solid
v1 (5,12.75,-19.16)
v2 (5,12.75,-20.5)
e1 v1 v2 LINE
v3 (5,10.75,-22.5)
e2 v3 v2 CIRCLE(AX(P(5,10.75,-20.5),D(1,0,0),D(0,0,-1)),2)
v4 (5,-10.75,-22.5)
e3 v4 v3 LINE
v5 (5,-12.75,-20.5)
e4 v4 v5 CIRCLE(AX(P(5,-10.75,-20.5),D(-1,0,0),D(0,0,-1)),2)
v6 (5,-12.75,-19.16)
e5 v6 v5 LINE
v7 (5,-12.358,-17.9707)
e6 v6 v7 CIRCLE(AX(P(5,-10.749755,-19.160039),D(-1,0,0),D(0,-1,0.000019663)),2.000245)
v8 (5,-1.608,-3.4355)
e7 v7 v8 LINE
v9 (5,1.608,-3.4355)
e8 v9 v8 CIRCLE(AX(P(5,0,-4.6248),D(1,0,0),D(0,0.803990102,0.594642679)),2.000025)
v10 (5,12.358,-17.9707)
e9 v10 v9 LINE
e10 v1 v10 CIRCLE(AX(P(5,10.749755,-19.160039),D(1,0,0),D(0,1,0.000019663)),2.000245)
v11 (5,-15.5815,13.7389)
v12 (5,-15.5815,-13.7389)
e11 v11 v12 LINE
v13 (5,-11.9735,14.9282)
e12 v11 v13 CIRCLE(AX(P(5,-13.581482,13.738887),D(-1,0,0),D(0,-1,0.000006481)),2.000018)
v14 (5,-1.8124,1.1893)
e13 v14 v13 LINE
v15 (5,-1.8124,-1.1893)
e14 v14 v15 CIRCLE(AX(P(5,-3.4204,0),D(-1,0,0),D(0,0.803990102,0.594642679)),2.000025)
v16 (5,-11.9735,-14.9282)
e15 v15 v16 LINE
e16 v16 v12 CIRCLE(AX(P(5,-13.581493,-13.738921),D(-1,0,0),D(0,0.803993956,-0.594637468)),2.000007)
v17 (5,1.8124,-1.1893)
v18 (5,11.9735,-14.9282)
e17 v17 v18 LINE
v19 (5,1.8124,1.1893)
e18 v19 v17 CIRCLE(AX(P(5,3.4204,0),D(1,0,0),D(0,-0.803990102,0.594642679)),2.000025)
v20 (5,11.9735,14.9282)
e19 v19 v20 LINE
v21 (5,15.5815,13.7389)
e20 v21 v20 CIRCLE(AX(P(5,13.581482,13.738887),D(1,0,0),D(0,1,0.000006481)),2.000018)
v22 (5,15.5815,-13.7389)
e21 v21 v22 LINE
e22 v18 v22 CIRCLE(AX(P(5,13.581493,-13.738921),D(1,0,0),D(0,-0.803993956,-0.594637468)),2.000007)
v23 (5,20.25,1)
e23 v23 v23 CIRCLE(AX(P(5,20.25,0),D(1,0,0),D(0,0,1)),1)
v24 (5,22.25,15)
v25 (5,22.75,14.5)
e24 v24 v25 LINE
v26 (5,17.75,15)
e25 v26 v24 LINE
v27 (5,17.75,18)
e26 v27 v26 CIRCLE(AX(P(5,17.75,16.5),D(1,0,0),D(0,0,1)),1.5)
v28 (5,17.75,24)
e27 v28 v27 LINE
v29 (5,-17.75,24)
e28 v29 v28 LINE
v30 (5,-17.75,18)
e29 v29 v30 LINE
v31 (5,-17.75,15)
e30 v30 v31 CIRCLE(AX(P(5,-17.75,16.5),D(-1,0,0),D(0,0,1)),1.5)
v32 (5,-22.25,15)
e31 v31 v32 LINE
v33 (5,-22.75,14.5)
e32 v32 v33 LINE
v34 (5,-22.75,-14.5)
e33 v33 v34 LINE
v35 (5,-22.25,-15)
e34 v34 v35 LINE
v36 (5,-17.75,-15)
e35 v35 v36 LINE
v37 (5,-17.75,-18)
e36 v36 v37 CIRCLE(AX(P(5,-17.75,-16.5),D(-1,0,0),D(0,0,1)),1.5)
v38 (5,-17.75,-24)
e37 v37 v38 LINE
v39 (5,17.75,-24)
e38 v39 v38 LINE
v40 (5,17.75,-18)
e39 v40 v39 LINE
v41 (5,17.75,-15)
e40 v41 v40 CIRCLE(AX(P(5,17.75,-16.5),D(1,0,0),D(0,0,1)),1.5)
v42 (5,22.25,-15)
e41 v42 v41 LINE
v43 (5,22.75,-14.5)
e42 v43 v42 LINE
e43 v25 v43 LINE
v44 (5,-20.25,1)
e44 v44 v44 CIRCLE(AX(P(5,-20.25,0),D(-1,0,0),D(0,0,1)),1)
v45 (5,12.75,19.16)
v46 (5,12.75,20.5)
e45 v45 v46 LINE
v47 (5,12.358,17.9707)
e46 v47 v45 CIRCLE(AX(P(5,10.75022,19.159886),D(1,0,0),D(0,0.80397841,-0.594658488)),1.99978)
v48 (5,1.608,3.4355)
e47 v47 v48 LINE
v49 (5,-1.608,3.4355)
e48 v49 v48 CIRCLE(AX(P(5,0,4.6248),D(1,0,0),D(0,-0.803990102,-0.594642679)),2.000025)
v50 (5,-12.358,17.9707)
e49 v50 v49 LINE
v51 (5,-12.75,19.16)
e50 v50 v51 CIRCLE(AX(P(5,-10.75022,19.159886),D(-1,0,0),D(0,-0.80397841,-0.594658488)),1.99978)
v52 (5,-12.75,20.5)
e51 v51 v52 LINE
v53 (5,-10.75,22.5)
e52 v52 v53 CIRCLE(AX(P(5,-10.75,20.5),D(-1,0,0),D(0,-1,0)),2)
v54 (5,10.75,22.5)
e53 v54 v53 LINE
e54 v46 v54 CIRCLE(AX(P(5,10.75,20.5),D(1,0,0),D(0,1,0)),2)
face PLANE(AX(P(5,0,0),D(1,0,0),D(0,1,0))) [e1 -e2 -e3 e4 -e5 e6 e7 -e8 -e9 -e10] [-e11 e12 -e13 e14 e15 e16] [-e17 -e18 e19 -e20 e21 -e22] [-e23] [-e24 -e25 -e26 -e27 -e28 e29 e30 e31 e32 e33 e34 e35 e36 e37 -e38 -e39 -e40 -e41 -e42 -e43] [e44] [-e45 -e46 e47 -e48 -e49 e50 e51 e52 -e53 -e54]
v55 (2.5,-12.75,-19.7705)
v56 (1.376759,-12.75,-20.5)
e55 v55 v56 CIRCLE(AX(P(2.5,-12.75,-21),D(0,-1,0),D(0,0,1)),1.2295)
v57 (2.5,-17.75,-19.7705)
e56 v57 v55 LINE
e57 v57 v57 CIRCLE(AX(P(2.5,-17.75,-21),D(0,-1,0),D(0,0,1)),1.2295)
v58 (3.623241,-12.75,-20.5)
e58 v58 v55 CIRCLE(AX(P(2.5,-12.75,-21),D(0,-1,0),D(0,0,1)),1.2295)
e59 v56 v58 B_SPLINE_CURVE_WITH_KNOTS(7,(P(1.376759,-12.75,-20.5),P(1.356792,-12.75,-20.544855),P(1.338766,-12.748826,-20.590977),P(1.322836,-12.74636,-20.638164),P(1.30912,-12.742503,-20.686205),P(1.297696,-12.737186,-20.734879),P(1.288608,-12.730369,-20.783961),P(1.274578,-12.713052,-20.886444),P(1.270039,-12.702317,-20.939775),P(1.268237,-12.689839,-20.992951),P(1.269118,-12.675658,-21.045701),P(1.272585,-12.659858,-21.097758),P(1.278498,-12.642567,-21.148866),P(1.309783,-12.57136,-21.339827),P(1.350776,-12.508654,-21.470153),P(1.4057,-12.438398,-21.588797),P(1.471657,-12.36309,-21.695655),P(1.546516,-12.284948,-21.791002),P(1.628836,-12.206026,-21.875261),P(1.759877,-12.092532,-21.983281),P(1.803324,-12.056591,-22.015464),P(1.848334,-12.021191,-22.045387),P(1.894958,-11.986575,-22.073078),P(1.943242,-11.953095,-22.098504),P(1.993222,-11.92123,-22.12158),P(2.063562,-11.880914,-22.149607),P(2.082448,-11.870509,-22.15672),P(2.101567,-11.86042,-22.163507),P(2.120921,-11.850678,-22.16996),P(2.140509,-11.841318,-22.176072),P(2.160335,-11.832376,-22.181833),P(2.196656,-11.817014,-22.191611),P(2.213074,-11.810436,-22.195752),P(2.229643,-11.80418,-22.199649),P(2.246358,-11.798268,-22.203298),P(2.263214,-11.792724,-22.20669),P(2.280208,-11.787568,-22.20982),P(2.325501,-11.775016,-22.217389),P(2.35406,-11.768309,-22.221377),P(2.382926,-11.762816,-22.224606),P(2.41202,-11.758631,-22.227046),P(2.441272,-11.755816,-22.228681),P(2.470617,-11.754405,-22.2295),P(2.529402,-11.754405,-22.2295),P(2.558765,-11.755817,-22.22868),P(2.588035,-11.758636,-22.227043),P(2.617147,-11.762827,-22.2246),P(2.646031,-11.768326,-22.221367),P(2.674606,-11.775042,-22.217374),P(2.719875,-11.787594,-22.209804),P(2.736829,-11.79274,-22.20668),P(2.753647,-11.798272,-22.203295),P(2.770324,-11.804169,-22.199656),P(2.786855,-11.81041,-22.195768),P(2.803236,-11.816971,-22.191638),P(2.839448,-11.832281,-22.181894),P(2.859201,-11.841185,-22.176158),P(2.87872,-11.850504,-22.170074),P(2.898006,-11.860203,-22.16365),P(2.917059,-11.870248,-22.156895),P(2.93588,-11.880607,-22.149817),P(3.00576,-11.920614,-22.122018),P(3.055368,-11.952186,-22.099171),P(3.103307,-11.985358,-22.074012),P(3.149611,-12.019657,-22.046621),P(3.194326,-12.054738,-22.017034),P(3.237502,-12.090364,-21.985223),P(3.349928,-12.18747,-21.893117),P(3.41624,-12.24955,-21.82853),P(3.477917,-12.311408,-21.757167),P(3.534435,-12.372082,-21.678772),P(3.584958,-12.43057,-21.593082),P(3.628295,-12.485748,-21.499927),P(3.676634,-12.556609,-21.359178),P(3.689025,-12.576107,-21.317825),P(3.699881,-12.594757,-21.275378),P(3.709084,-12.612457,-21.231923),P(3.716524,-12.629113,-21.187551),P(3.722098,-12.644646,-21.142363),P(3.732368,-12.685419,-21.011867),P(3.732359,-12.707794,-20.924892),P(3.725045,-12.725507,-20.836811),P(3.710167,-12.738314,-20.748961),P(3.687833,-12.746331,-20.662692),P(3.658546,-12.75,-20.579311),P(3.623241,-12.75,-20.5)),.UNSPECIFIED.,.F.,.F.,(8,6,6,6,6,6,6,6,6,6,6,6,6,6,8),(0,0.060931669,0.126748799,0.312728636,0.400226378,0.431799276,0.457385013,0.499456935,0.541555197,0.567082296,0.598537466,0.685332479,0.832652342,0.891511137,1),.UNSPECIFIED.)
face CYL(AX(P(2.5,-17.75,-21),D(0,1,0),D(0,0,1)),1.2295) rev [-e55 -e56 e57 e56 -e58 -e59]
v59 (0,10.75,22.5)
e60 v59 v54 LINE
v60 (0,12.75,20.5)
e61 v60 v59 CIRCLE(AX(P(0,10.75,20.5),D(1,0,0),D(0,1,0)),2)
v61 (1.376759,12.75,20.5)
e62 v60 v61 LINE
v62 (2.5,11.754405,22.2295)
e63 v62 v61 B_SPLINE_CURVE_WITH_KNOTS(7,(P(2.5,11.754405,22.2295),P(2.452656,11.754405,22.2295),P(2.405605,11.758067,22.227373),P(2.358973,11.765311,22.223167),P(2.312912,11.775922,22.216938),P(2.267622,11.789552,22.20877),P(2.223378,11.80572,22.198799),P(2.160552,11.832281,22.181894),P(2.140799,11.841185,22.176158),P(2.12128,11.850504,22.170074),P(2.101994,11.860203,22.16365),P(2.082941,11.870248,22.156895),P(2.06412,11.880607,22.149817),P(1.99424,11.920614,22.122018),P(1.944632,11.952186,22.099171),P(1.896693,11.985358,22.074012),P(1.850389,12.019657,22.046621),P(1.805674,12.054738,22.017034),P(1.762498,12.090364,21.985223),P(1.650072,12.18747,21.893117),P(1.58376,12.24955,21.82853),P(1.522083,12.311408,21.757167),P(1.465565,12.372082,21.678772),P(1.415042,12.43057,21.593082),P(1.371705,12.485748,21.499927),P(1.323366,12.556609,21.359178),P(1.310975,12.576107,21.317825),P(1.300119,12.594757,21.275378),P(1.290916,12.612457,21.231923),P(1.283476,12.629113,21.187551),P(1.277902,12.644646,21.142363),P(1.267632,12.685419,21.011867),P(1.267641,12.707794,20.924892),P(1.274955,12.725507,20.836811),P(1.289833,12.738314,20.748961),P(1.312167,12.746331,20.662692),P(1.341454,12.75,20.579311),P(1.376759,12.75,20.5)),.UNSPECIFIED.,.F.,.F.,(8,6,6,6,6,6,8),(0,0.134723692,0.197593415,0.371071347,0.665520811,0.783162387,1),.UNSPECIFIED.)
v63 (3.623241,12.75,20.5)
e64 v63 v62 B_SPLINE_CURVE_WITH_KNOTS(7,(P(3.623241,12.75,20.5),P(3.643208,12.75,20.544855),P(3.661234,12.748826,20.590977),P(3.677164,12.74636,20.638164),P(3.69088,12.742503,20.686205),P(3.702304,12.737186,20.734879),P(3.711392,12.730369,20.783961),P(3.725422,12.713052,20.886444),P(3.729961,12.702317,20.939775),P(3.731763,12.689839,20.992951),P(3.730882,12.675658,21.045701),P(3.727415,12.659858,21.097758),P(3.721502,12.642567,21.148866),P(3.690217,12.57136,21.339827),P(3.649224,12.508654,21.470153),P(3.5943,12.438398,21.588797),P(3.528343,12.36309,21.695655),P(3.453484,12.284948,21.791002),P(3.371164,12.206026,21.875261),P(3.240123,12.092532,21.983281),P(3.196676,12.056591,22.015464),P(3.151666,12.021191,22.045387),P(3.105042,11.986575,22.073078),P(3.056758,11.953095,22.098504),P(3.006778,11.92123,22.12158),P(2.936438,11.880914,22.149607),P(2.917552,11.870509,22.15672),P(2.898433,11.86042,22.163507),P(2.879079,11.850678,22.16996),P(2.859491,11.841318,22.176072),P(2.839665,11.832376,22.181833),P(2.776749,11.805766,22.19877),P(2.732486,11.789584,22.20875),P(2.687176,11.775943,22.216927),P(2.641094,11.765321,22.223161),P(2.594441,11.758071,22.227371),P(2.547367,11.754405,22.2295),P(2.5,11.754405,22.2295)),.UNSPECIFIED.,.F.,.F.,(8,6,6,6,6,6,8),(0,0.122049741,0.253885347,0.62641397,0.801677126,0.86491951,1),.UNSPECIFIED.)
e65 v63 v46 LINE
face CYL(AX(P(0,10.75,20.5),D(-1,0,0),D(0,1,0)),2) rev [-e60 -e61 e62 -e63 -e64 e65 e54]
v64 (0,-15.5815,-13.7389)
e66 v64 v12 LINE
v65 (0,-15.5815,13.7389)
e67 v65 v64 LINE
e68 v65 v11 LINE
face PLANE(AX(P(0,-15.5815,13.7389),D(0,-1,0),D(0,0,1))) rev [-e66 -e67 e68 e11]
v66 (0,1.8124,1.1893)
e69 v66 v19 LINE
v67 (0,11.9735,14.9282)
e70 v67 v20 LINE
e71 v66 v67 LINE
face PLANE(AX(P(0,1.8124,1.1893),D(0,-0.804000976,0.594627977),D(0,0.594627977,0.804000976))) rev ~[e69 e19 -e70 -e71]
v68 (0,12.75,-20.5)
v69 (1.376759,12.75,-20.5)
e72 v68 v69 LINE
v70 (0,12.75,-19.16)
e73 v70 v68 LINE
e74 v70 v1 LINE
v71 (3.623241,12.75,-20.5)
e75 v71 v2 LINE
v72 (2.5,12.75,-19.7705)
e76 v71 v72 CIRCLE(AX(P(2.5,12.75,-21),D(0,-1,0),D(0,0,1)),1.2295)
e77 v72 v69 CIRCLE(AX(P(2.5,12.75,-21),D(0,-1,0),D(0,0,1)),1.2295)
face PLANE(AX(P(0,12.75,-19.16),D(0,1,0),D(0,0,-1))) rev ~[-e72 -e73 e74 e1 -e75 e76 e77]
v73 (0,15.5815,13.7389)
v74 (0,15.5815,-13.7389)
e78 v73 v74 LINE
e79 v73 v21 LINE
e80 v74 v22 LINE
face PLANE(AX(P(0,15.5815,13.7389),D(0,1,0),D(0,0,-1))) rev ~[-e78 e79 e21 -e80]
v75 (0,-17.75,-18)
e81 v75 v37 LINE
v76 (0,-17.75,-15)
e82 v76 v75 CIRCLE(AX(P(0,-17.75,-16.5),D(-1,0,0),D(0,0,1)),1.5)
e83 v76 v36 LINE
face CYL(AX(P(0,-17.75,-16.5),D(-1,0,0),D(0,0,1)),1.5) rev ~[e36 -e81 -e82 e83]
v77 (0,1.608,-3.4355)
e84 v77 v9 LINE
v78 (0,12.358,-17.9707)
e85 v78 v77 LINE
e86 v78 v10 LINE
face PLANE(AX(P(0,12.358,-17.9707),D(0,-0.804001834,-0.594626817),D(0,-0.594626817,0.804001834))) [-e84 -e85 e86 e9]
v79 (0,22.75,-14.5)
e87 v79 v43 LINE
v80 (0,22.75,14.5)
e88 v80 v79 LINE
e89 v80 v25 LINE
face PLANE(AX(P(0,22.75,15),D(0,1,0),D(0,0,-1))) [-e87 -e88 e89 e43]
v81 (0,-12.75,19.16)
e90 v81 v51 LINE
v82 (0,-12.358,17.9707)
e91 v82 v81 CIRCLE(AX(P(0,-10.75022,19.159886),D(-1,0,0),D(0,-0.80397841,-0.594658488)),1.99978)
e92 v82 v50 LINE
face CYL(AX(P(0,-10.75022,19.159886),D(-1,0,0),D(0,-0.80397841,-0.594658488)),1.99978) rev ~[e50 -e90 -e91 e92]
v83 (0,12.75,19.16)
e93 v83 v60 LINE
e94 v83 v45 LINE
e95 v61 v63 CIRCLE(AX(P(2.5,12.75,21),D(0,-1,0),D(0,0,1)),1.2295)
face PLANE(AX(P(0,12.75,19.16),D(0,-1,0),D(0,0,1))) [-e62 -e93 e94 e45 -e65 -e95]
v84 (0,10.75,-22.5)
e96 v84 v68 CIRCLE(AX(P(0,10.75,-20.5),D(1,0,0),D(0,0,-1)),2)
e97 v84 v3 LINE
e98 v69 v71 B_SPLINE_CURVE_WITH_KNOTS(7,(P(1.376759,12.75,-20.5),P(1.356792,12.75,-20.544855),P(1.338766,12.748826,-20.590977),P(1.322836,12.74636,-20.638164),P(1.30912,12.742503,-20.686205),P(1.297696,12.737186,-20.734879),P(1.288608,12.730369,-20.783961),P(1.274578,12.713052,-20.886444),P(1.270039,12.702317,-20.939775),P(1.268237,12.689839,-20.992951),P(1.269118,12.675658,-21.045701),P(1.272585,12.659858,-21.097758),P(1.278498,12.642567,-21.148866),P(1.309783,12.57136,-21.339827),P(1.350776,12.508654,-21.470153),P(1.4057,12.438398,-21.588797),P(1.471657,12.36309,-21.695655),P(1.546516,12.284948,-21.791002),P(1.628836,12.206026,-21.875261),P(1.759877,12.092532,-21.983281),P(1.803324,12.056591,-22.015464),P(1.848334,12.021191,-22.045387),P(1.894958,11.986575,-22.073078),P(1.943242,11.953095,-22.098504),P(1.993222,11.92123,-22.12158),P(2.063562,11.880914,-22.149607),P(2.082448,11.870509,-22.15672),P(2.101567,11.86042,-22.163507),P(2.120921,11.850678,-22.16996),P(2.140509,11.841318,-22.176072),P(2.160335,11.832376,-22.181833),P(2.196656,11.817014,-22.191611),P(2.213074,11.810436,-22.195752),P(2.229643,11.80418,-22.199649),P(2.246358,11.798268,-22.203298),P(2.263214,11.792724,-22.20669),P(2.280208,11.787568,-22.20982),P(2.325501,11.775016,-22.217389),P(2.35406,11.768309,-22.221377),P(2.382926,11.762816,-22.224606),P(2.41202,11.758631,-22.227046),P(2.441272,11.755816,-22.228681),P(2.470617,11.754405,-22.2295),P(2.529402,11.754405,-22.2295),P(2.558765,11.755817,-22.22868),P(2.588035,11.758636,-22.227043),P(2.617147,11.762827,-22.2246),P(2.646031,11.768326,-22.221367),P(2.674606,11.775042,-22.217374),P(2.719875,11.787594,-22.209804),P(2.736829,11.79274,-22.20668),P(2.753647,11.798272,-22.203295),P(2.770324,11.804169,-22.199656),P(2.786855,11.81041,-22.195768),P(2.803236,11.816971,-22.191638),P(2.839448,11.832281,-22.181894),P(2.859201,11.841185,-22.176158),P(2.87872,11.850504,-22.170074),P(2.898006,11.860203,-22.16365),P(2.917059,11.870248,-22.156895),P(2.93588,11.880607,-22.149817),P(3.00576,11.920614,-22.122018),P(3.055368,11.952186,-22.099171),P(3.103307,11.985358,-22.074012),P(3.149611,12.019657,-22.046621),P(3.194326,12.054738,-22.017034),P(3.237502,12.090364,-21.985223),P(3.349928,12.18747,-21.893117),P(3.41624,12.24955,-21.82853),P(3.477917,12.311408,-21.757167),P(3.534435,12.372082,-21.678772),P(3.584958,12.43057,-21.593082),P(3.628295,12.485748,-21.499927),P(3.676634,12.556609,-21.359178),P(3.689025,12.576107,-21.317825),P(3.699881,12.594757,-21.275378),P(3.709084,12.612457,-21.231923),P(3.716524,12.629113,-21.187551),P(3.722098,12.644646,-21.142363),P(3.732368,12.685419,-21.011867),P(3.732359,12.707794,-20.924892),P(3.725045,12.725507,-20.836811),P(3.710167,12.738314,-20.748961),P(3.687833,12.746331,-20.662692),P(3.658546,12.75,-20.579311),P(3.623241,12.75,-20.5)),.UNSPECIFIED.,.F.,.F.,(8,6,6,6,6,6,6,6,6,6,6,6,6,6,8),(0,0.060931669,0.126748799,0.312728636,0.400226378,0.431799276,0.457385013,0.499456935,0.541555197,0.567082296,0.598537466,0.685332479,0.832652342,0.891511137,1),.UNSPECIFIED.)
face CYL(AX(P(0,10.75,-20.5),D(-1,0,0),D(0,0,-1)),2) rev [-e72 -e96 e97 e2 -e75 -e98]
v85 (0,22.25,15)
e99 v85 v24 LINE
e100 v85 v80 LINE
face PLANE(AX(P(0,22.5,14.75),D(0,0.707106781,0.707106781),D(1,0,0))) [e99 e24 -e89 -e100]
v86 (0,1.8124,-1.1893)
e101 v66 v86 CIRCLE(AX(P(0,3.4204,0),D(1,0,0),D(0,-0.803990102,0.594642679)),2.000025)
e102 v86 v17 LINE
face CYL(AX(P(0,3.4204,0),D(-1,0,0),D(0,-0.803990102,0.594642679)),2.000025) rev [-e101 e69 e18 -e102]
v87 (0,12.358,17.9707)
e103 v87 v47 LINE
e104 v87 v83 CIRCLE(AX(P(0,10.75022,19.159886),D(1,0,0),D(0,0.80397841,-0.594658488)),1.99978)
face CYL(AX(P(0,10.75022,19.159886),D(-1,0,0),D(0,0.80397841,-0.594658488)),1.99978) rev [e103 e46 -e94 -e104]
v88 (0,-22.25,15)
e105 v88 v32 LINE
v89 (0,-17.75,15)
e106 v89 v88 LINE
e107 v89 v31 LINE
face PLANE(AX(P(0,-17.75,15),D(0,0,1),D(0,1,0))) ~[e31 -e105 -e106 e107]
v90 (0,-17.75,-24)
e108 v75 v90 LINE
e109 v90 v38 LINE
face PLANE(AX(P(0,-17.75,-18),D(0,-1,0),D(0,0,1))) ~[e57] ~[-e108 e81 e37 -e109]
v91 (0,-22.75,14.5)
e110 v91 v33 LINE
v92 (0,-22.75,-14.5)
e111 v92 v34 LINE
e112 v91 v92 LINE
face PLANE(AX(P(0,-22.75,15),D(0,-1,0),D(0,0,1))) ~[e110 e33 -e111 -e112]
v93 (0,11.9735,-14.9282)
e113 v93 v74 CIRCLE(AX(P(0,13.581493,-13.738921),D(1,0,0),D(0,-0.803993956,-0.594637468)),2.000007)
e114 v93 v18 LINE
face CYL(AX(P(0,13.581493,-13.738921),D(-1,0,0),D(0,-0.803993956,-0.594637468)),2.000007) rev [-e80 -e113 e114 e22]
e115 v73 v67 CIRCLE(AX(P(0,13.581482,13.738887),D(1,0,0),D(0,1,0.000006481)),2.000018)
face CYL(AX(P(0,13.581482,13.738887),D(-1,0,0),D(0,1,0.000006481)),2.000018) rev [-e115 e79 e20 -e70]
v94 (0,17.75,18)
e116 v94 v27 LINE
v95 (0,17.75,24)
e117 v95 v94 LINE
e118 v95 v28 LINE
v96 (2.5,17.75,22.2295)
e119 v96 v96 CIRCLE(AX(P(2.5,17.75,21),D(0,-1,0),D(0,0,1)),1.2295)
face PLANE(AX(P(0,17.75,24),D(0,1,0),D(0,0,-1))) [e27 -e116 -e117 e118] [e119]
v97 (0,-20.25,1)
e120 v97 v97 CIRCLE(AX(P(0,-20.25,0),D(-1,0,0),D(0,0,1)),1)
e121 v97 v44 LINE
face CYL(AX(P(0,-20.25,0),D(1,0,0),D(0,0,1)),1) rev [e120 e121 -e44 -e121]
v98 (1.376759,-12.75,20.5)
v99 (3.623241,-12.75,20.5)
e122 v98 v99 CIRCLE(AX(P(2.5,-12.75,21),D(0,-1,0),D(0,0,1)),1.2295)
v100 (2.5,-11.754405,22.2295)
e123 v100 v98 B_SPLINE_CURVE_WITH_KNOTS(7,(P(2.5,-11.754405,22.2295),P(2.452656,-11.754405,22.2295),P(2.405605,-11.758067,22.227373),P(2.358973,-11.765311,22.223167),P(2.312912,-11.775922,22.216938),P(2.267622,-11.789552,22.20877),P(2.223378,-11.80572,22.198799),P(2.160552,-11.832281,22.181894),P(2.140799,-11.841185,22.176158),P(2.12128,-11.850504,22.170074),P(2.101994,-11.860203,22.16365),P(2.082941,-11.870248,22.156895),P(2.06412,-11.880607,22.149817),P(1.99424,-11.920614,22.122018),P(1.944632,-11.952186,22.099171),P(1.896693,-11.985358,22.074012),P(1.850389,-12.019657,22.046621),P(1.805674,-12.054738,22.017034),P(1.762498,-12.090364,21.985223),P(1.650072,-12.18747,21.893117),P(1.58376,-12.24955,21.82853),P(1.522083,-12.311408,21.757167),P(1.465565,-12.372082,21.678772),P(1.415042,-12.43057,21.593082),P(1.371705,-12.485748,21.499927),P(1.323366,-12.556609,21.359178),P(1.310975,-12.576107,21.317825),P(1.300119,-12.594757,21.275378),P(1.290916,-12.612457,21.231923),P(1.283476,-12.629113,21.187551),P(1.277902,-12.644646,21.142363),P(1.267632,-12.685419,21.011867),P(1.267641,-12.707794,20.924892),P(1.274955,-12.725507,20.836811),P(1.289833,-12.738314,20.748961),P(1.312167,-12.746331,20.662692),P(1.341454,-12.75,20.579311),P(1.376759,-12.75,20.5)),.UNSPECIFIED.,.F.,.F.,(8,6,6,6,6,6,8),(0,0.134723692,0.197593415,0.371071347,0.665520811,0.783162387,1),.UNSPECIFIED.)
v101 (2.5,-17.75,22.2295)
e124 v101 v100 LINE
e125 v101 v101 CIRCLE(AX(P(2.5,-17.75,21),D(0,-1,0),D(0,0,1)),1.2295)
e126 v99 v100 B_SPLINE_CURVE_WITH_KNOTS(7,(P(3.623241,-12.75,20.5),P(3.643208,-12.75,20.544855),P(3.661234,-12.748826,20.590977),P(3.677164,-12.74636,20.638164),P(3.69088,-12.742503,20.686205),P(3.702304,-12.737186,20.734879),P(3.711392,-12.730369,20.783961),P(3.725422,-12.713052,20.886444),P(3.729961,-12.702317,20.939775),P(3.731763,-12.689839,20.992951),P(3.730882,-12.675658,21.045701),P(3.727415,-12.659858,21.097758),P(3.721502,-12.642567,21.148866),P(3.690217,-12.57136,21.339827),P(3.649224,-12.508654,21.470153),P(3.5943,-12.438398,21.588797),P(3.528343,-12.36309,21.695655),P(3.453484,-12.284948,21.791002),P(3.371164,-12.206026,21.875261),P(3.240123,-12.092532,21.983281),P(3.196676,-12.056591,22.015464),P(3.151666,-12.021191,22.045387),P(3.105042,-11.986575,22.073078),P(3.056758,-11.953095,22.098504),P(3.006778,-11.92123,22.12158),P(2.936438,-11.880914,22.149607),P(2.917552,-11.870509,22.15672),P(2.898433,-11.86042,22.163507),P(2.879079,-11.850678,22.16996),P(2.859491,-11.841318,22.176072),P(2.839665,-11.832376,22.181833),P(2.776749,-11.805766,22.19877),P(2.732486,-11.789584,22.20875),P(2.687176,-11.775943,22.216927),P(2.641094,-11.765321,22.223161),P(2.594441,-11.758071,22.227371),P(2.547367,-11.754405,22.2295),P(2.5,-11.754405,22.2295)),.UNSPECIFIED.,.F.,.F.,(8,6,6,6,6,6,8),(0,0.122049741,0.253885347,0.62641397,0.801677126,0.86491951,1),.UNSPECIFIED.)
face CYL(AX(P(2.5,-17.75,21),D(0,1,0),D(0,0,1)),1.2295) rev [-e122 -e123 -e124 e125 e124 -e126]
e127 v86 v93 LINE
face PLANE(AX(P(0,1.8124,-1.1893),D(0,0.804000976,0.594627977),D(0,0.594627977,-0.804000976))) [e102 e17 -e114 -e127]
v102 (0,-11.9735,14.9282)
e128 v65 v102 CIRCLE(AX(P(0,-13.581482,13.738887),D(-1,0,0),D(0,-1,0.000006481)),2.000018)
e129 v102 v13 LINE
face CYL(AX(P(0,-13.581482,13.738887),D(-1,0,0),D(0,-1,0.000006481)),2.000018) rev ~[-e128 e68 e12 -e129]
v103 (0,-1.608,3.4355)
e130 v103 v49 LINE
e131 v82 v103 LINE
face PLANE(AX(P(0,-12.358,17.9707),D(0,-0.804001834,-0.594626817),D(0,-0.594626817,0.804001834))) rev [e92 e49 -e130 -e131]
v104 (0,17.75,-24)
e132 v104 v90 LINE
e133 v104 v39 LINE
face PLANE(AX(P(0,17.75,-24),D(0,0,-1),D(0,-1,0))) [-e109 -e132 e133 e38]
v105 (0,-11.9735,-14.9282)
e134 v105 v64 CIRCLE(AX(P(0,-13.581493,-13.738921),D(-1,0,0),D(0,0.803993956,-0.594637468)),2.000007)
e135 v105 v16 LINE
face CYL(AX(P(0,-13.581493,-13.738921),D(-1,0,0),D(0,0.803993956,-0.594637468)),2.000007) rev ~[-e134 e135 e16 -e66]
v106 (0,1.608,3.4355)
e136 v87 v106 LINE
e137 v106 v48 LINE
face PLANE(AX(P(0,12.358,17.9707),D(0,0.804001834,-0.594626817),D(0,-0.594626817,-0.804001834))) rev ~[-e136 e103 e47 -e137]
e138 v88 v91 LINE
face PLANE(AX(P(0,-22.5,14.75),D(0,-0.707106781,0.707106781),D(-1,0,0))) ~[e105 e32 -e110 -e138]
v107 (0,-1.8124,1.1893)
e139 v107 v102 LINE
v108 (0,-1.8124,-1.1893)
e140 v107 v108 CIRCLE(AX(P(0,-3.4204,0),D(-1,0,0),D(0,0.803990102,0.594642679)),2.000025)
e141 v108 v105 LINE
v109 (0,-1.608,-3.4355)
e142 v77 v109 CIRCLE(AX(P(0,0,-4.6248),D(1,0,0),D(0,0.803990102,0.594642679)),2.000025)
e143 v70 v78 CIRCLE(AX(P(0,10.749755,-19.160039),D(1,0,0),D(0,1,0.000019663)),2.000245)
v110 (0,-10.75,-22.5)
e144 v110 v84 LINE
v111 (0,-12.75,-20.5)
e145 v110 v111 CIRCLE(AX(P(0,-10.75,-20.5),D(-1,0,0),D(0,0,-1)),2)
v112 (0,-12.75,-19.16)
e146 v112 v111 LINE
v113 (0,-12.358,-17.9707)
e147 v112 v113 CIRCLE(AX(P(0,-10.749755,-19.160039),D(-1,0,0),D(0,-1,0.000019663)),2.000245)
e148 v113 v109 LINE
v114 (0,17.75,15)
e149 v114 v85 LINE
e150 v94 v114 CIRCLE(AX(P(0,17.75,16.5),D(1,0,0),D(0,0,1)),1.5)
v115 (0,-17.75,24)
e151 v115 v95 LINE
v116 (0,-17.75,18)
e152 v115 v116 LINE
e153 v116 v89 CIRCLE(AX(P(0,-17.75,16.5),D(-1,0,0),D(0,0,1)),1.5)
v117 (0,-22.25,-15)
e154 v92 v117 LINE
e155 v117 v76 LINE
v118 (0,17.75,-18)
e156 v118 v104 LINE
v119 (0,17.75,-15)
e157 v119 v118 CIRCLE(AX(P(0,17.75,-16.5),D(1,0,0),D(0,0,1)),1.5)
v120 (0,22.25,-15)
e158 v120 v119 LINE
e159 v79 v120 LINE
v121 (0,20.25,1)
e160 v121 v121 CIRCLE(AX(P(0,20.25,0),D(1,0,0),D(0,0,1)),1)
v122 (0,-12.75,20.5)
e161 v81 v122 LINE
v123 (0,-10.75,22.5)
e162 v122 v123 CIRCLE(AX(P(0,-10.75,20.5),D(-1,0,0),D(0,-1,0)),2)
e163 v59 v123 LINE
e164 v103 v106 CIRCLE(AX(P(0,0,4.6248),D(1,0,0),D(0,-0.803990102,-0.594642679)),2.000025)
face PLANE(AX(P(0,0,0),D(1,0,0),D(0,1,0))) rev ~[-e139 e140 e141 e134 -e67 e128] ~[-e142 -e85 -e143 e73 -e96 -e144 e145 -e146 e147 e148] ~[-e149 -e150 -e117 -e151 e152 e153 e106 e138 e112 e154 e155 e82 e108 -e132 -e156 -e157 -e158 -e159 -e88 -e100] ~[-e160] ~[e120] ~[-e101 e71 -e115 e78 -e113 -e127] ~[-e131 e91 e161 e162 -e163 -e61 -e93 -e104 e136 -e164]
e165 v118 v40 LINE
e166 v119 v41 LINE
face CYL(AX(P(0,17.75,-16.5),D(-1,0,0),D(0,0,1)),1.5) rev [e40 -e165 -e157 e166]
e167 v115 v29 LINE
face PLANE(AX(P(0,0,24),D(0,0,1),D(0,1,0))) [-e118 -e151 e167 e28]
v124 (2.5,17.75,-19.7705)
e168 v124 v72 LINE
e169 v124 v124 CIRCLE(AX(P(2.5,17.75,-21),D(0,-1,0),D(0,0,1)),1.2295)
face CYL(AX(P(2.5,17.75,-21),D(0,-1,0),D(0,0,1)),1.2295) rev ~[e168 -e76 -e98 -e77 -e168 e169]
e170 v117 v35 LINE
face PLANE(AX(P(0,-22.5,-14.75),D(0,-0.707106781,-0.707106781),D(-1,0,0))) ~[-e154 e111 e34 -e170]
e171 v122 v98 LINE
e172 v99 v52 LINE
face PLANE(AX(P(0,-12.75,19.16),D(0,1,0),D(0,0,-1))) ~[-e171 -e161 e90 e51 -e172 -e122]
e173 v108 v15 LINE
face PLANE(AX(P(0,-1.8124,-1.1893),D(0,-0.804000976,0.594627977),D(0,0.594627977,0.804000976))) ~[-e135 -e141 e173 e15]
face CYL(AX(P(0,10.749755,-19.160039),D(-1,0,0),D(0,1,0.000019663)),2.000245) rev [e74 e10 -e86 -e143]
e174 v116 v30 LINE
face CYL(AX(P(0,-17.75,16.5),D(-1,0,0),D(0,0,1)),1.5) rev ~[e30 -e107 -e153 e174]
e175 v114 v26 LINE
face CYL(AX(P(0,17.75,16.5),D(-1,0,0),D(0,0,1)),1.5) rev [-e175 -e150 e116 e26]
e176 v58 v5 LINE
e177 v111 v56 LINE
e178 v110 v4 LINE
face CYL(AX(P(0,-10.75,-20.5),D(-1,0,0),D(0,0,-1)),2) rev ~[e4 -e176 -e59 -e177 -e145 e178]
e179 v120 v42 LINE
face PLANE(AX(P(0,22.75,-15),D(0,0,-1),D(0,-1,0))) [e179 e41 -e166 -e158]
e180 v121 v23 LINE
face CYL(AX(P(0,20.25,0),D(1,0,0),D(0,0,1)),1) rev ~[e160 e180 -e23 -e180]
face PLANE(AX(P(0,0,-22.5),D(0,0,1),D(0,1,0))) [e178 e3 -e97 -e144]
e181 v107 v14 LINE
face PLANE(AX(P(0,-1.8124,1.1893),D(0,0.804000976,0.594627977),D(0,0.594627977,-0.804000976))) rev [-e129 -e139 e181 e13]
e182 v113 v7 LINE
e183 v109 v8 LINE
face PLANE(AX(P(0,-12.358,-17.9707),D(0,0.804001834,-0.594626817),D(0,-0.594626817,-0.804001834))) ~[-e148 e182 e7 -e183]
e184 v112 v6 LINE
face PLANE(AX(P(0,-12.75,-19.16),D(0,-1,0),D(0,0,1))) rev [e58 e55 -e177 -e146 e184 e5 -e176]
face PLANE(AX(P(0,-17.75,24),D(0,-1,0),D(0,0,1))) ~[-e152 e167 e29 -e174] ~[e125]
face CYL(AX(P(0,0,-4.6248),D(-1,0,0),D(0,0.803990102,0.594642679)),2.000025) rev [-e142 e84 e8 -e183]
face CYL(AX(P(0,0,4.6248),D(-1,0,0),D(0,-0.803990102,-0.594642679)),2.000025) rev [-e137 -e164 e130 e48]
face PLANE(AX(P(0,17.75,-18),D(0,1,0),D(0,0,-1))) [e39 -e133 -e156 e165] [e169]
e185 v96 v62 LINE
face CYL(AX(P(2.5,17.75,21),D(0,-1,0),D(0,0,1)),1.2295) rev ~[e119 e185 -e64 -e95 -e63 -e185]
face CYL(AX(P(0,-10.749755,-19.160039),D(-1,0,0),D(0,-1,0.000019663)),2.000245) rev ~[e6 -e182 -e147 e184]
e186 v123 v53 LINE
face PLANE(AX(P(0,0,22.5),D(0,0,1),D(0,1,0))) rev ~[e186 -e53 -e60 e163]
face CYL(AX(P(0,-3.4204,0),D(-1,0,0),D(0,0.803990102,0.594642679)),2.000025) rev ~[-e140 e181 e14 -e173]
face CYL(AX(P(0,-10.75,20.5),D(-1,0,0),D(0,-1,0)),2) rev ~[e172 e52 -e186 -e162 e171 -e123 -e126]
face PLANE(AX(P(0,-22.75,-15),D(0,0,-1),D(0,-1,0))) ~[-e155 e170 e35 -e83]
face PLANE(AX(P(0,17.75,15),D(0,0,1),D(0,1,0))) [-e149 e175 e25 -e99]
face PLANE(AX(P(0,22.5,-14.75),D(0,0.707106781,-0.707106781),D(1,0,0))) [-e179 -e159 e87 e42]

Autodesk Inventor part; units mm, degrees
ref_plane "YZ Plane" through (0, 0, 0) normal (1, 0, 0) x (0, 1, 0)
ref_plane "XZ Plane" through (0, 0, 0) normal (0, 1, 0) x (-1, 0, 0)
ref_plane "XY Plane" through (0, 0, 0) normal (0, 0, 1) x (1, 0, 0)
sketch "Sketch1" plane through (0, 0, 0) normal (1, 0, 0) x (0, 1, 0)
  line L0 (-17.75, 24) -> (17.75, 24)
  line L1 (17.75, 24) -> (17.75, -24)
  line L2 (17.75, -24) -> (-17.75, -24)
  line L3 (-17.75, -24) -> (-17.75, 24)
  line L4 (-17.75, 24) -> (17.75, -24) construction
  line L5 (17.75, 24) -> (-17.75, -24) construction
  line L6 (17.75, 15) -> (22.75, 15)
  line L7 (22.75, 15) -> (22.75, -15)
  line L8 (22.75, -15) -> (17.75, -15)
  line L9 (17.75, 0) -> (-17.75, 0) construction
  line L10 (0, 24) -> (0, -24)
  arc A0 (17.75, 18) -> (17.75, 15) centre (17.75, 16.5) ccw
  line L11 (17.75, -15) -> (22.75, -15)
  arc A1 (17.75, -15) -> (17.75, -18) centre (17.75, -16.5) ccw
  line L12 (-17.75, 15) -> (-22.75, 15)
  line L13 (-22.75, 15) -> (-22.75, -15)
  line L14 (-22.75, -15) -> (-17.75, -15)
  arc A2 (-17.75, 15) -> (-17.75, 18) centre (-17.75, 16.5) ccw
  arc A3 (-17.75, -18) -> (-17.75, -15) centre (-17.75, -16.5) ccw
  line L15 (17.75, 21) -> (12.75, 21) construction
  line L16 (-10.75, 22.5) -> (10.75, 22.5)
  line L17 (12.358, 17.9707) -> (1.608, 3.4355)
  line L18 (-12.358, 17.9707) -> (-1.608, 3.4355)
  line L19 (1.8124, 1.1893) -> (11.9735, 14.9282)
  line L20 (15.5815, 13.7389) -> (15.5815, -13.7389)
  line L21 (1.8124, -1.1893) -> (11.9735, -14.9282)
  arc A4 (-1.608, 3.4355) -> (1.608, 3.4355) centre (0, 4.6248) ccw
  arc A5 (15.5815, 13.7389) -> (11.9735, 14.9282) centre (13.5815, 13.7389) ccw
  arc A6 (1.8124, 1.1893) -> (1.8124, -1.1893) centre (3.4204, 0) ccw
  arc A7 (11.9735, -14.9282) -> (15.5815, -13.7389) centre (13.5815, -13.7389) ccw
  line L22 (17.75, -21) -> (12.75, -21) construction
  line L23 (12.75, 19.16) -> (12.75, 20.5)
  line L24 (-12.75, 19.16) -> (-12.75, 20.5)
  arc A8 (12.75, 20.5) -> (10.75, 22.5) centre (10.75, 20.5) ccw
  arc A9 (12.358, 17.9707) -> (12.75, 19.16) centre (10.75, 19.16) ccw
  arc A10 (-10.75, 22.5) -> (-12.75, 20.5) centre (-10.75, 20.5) ccw
  arc A11 (-12.75, 19.16) -> (-12.358, 17.9707) centre (-10.75, 19.16) ccw
  circle A12 centre (20.25, 0) radius 1 construction
  line L25 (20.25, 15) -> (20.25, -15) construction
  line L26 (-10.75, -22.5) -> (10.75, -22.5)
  line L27 (12.358, -17.9707) -> (1.608, -3.4355)
  line L28 (-12.358, -17.9707) -> (-1.608, -3.4355)
  arc A13 (1.608, -3.4355) -> (-1.608, -3.4355) centre (0, -4.6248) ccw
  line L29 (12.75, -19.16) -> (12.75, -20.5)
  line L30 (-12.75, -19.16) -> (-12.75, -20.5)
  arc A14 (10.75, -22.5) -> (12.75, -20.5) centre (10.75, -20.5) ccw
  arc A15 (12.75, -19.16) -> (12.358, -17.9707) centre (10.75, -19.16) ccw
  arc A16 (-12.75, -20.5) -> (-10.75, -22.5) centre (-10.75, -20.5) ccw
  arc A17 (-12.358, -17.9707) -> (-12.75, -19.16) centre (-10.75, -19.16) ccw
  point P0 (0, 0)
  point P1 (0, 1.2613)
  point P2 (0.9328, 0)
  point P3 (15.5815, 19.8066)
  point P4 (15.5815, -19.8066)
  point P5 (-12.75, 22.5)
  point P6 (12.75, 22.5)
  point P7 (0, 2.6248)
  point P8 (17.75, -18)
  point P9 (0, 22.5)
  point P10 (12.75, 18.5007)
  point P11 (-12.75, 18.5007)
  point P12 (0, -2.6248)
  point P13 (0, -22.5)
  dimension "d0" = 1.5
  dimension "d1" = 5
  dimension "d2" = 48
  dimension "d3" = 9
  dimension "d4" = 35.5
  dimension "d5" = 5
  dimension "d6" = 1.5
  dimension "d8" = 1.5
  dimension "d9" = 1.5
  dimension "d22" = 2
  dimension "d24" = 2
extrude "Extrusion1" add sketch "Sketch1" along normal blind 5 contours L0 L1 A0 A1 L2 L10 L26 A14 L29 A15 L27 A13 A4 L17 A9 L23 A8 L16 | L6 L7 L8 L1
sketch "Sketch2" plane through (0, 17.75, 24) normal (0, 1, 0) x (1, 0, 0)
  line L0 (0, 45) -> (5, 45)
  line L1 (0, 3) -> (5, 3)
  line L2 (5, 6) -> (5, 0) projected
  line L3 (5, 48) -> (5, 42) projected
  line L4 (0, 6) -> (0, 0) projected
  line L5 (0, 48) -> (0, 42) projected
  point P0 (0, 3)
  point P1 (0, 3)
  point P2 (0, 3)
  point P3 (0, 45)
  point P4 (2.5, 3)
  point P5 (2.5, 45)
hole "Side-M3" at (2.5, 17.75, -21) at (2.5, 17.75, 21) direction (0, -1, 0) diameter 2.459 end through all thread size "M3x0.5" class "6H" standard "ISO Metric profile"
hole "Phi2-H7" at (0, 20.25, 0) direction (1, 0, 0) diameter 2 end through all
chamfer "C0.5" distance 0.5 angle 45 2 edges at (2.5, 22.75, 15) (2.5, 22.75, -15)
mirror "Mirror1" about plane through (0, 0, 2.6248) normal (0, -1, 0)
equation "\"d8\" = d6"
equation "\"d9\" = d6"
equation "\"d17\" = d5"
properties part number "KneeBraceFrame" material "Acetal Resin, Black"
